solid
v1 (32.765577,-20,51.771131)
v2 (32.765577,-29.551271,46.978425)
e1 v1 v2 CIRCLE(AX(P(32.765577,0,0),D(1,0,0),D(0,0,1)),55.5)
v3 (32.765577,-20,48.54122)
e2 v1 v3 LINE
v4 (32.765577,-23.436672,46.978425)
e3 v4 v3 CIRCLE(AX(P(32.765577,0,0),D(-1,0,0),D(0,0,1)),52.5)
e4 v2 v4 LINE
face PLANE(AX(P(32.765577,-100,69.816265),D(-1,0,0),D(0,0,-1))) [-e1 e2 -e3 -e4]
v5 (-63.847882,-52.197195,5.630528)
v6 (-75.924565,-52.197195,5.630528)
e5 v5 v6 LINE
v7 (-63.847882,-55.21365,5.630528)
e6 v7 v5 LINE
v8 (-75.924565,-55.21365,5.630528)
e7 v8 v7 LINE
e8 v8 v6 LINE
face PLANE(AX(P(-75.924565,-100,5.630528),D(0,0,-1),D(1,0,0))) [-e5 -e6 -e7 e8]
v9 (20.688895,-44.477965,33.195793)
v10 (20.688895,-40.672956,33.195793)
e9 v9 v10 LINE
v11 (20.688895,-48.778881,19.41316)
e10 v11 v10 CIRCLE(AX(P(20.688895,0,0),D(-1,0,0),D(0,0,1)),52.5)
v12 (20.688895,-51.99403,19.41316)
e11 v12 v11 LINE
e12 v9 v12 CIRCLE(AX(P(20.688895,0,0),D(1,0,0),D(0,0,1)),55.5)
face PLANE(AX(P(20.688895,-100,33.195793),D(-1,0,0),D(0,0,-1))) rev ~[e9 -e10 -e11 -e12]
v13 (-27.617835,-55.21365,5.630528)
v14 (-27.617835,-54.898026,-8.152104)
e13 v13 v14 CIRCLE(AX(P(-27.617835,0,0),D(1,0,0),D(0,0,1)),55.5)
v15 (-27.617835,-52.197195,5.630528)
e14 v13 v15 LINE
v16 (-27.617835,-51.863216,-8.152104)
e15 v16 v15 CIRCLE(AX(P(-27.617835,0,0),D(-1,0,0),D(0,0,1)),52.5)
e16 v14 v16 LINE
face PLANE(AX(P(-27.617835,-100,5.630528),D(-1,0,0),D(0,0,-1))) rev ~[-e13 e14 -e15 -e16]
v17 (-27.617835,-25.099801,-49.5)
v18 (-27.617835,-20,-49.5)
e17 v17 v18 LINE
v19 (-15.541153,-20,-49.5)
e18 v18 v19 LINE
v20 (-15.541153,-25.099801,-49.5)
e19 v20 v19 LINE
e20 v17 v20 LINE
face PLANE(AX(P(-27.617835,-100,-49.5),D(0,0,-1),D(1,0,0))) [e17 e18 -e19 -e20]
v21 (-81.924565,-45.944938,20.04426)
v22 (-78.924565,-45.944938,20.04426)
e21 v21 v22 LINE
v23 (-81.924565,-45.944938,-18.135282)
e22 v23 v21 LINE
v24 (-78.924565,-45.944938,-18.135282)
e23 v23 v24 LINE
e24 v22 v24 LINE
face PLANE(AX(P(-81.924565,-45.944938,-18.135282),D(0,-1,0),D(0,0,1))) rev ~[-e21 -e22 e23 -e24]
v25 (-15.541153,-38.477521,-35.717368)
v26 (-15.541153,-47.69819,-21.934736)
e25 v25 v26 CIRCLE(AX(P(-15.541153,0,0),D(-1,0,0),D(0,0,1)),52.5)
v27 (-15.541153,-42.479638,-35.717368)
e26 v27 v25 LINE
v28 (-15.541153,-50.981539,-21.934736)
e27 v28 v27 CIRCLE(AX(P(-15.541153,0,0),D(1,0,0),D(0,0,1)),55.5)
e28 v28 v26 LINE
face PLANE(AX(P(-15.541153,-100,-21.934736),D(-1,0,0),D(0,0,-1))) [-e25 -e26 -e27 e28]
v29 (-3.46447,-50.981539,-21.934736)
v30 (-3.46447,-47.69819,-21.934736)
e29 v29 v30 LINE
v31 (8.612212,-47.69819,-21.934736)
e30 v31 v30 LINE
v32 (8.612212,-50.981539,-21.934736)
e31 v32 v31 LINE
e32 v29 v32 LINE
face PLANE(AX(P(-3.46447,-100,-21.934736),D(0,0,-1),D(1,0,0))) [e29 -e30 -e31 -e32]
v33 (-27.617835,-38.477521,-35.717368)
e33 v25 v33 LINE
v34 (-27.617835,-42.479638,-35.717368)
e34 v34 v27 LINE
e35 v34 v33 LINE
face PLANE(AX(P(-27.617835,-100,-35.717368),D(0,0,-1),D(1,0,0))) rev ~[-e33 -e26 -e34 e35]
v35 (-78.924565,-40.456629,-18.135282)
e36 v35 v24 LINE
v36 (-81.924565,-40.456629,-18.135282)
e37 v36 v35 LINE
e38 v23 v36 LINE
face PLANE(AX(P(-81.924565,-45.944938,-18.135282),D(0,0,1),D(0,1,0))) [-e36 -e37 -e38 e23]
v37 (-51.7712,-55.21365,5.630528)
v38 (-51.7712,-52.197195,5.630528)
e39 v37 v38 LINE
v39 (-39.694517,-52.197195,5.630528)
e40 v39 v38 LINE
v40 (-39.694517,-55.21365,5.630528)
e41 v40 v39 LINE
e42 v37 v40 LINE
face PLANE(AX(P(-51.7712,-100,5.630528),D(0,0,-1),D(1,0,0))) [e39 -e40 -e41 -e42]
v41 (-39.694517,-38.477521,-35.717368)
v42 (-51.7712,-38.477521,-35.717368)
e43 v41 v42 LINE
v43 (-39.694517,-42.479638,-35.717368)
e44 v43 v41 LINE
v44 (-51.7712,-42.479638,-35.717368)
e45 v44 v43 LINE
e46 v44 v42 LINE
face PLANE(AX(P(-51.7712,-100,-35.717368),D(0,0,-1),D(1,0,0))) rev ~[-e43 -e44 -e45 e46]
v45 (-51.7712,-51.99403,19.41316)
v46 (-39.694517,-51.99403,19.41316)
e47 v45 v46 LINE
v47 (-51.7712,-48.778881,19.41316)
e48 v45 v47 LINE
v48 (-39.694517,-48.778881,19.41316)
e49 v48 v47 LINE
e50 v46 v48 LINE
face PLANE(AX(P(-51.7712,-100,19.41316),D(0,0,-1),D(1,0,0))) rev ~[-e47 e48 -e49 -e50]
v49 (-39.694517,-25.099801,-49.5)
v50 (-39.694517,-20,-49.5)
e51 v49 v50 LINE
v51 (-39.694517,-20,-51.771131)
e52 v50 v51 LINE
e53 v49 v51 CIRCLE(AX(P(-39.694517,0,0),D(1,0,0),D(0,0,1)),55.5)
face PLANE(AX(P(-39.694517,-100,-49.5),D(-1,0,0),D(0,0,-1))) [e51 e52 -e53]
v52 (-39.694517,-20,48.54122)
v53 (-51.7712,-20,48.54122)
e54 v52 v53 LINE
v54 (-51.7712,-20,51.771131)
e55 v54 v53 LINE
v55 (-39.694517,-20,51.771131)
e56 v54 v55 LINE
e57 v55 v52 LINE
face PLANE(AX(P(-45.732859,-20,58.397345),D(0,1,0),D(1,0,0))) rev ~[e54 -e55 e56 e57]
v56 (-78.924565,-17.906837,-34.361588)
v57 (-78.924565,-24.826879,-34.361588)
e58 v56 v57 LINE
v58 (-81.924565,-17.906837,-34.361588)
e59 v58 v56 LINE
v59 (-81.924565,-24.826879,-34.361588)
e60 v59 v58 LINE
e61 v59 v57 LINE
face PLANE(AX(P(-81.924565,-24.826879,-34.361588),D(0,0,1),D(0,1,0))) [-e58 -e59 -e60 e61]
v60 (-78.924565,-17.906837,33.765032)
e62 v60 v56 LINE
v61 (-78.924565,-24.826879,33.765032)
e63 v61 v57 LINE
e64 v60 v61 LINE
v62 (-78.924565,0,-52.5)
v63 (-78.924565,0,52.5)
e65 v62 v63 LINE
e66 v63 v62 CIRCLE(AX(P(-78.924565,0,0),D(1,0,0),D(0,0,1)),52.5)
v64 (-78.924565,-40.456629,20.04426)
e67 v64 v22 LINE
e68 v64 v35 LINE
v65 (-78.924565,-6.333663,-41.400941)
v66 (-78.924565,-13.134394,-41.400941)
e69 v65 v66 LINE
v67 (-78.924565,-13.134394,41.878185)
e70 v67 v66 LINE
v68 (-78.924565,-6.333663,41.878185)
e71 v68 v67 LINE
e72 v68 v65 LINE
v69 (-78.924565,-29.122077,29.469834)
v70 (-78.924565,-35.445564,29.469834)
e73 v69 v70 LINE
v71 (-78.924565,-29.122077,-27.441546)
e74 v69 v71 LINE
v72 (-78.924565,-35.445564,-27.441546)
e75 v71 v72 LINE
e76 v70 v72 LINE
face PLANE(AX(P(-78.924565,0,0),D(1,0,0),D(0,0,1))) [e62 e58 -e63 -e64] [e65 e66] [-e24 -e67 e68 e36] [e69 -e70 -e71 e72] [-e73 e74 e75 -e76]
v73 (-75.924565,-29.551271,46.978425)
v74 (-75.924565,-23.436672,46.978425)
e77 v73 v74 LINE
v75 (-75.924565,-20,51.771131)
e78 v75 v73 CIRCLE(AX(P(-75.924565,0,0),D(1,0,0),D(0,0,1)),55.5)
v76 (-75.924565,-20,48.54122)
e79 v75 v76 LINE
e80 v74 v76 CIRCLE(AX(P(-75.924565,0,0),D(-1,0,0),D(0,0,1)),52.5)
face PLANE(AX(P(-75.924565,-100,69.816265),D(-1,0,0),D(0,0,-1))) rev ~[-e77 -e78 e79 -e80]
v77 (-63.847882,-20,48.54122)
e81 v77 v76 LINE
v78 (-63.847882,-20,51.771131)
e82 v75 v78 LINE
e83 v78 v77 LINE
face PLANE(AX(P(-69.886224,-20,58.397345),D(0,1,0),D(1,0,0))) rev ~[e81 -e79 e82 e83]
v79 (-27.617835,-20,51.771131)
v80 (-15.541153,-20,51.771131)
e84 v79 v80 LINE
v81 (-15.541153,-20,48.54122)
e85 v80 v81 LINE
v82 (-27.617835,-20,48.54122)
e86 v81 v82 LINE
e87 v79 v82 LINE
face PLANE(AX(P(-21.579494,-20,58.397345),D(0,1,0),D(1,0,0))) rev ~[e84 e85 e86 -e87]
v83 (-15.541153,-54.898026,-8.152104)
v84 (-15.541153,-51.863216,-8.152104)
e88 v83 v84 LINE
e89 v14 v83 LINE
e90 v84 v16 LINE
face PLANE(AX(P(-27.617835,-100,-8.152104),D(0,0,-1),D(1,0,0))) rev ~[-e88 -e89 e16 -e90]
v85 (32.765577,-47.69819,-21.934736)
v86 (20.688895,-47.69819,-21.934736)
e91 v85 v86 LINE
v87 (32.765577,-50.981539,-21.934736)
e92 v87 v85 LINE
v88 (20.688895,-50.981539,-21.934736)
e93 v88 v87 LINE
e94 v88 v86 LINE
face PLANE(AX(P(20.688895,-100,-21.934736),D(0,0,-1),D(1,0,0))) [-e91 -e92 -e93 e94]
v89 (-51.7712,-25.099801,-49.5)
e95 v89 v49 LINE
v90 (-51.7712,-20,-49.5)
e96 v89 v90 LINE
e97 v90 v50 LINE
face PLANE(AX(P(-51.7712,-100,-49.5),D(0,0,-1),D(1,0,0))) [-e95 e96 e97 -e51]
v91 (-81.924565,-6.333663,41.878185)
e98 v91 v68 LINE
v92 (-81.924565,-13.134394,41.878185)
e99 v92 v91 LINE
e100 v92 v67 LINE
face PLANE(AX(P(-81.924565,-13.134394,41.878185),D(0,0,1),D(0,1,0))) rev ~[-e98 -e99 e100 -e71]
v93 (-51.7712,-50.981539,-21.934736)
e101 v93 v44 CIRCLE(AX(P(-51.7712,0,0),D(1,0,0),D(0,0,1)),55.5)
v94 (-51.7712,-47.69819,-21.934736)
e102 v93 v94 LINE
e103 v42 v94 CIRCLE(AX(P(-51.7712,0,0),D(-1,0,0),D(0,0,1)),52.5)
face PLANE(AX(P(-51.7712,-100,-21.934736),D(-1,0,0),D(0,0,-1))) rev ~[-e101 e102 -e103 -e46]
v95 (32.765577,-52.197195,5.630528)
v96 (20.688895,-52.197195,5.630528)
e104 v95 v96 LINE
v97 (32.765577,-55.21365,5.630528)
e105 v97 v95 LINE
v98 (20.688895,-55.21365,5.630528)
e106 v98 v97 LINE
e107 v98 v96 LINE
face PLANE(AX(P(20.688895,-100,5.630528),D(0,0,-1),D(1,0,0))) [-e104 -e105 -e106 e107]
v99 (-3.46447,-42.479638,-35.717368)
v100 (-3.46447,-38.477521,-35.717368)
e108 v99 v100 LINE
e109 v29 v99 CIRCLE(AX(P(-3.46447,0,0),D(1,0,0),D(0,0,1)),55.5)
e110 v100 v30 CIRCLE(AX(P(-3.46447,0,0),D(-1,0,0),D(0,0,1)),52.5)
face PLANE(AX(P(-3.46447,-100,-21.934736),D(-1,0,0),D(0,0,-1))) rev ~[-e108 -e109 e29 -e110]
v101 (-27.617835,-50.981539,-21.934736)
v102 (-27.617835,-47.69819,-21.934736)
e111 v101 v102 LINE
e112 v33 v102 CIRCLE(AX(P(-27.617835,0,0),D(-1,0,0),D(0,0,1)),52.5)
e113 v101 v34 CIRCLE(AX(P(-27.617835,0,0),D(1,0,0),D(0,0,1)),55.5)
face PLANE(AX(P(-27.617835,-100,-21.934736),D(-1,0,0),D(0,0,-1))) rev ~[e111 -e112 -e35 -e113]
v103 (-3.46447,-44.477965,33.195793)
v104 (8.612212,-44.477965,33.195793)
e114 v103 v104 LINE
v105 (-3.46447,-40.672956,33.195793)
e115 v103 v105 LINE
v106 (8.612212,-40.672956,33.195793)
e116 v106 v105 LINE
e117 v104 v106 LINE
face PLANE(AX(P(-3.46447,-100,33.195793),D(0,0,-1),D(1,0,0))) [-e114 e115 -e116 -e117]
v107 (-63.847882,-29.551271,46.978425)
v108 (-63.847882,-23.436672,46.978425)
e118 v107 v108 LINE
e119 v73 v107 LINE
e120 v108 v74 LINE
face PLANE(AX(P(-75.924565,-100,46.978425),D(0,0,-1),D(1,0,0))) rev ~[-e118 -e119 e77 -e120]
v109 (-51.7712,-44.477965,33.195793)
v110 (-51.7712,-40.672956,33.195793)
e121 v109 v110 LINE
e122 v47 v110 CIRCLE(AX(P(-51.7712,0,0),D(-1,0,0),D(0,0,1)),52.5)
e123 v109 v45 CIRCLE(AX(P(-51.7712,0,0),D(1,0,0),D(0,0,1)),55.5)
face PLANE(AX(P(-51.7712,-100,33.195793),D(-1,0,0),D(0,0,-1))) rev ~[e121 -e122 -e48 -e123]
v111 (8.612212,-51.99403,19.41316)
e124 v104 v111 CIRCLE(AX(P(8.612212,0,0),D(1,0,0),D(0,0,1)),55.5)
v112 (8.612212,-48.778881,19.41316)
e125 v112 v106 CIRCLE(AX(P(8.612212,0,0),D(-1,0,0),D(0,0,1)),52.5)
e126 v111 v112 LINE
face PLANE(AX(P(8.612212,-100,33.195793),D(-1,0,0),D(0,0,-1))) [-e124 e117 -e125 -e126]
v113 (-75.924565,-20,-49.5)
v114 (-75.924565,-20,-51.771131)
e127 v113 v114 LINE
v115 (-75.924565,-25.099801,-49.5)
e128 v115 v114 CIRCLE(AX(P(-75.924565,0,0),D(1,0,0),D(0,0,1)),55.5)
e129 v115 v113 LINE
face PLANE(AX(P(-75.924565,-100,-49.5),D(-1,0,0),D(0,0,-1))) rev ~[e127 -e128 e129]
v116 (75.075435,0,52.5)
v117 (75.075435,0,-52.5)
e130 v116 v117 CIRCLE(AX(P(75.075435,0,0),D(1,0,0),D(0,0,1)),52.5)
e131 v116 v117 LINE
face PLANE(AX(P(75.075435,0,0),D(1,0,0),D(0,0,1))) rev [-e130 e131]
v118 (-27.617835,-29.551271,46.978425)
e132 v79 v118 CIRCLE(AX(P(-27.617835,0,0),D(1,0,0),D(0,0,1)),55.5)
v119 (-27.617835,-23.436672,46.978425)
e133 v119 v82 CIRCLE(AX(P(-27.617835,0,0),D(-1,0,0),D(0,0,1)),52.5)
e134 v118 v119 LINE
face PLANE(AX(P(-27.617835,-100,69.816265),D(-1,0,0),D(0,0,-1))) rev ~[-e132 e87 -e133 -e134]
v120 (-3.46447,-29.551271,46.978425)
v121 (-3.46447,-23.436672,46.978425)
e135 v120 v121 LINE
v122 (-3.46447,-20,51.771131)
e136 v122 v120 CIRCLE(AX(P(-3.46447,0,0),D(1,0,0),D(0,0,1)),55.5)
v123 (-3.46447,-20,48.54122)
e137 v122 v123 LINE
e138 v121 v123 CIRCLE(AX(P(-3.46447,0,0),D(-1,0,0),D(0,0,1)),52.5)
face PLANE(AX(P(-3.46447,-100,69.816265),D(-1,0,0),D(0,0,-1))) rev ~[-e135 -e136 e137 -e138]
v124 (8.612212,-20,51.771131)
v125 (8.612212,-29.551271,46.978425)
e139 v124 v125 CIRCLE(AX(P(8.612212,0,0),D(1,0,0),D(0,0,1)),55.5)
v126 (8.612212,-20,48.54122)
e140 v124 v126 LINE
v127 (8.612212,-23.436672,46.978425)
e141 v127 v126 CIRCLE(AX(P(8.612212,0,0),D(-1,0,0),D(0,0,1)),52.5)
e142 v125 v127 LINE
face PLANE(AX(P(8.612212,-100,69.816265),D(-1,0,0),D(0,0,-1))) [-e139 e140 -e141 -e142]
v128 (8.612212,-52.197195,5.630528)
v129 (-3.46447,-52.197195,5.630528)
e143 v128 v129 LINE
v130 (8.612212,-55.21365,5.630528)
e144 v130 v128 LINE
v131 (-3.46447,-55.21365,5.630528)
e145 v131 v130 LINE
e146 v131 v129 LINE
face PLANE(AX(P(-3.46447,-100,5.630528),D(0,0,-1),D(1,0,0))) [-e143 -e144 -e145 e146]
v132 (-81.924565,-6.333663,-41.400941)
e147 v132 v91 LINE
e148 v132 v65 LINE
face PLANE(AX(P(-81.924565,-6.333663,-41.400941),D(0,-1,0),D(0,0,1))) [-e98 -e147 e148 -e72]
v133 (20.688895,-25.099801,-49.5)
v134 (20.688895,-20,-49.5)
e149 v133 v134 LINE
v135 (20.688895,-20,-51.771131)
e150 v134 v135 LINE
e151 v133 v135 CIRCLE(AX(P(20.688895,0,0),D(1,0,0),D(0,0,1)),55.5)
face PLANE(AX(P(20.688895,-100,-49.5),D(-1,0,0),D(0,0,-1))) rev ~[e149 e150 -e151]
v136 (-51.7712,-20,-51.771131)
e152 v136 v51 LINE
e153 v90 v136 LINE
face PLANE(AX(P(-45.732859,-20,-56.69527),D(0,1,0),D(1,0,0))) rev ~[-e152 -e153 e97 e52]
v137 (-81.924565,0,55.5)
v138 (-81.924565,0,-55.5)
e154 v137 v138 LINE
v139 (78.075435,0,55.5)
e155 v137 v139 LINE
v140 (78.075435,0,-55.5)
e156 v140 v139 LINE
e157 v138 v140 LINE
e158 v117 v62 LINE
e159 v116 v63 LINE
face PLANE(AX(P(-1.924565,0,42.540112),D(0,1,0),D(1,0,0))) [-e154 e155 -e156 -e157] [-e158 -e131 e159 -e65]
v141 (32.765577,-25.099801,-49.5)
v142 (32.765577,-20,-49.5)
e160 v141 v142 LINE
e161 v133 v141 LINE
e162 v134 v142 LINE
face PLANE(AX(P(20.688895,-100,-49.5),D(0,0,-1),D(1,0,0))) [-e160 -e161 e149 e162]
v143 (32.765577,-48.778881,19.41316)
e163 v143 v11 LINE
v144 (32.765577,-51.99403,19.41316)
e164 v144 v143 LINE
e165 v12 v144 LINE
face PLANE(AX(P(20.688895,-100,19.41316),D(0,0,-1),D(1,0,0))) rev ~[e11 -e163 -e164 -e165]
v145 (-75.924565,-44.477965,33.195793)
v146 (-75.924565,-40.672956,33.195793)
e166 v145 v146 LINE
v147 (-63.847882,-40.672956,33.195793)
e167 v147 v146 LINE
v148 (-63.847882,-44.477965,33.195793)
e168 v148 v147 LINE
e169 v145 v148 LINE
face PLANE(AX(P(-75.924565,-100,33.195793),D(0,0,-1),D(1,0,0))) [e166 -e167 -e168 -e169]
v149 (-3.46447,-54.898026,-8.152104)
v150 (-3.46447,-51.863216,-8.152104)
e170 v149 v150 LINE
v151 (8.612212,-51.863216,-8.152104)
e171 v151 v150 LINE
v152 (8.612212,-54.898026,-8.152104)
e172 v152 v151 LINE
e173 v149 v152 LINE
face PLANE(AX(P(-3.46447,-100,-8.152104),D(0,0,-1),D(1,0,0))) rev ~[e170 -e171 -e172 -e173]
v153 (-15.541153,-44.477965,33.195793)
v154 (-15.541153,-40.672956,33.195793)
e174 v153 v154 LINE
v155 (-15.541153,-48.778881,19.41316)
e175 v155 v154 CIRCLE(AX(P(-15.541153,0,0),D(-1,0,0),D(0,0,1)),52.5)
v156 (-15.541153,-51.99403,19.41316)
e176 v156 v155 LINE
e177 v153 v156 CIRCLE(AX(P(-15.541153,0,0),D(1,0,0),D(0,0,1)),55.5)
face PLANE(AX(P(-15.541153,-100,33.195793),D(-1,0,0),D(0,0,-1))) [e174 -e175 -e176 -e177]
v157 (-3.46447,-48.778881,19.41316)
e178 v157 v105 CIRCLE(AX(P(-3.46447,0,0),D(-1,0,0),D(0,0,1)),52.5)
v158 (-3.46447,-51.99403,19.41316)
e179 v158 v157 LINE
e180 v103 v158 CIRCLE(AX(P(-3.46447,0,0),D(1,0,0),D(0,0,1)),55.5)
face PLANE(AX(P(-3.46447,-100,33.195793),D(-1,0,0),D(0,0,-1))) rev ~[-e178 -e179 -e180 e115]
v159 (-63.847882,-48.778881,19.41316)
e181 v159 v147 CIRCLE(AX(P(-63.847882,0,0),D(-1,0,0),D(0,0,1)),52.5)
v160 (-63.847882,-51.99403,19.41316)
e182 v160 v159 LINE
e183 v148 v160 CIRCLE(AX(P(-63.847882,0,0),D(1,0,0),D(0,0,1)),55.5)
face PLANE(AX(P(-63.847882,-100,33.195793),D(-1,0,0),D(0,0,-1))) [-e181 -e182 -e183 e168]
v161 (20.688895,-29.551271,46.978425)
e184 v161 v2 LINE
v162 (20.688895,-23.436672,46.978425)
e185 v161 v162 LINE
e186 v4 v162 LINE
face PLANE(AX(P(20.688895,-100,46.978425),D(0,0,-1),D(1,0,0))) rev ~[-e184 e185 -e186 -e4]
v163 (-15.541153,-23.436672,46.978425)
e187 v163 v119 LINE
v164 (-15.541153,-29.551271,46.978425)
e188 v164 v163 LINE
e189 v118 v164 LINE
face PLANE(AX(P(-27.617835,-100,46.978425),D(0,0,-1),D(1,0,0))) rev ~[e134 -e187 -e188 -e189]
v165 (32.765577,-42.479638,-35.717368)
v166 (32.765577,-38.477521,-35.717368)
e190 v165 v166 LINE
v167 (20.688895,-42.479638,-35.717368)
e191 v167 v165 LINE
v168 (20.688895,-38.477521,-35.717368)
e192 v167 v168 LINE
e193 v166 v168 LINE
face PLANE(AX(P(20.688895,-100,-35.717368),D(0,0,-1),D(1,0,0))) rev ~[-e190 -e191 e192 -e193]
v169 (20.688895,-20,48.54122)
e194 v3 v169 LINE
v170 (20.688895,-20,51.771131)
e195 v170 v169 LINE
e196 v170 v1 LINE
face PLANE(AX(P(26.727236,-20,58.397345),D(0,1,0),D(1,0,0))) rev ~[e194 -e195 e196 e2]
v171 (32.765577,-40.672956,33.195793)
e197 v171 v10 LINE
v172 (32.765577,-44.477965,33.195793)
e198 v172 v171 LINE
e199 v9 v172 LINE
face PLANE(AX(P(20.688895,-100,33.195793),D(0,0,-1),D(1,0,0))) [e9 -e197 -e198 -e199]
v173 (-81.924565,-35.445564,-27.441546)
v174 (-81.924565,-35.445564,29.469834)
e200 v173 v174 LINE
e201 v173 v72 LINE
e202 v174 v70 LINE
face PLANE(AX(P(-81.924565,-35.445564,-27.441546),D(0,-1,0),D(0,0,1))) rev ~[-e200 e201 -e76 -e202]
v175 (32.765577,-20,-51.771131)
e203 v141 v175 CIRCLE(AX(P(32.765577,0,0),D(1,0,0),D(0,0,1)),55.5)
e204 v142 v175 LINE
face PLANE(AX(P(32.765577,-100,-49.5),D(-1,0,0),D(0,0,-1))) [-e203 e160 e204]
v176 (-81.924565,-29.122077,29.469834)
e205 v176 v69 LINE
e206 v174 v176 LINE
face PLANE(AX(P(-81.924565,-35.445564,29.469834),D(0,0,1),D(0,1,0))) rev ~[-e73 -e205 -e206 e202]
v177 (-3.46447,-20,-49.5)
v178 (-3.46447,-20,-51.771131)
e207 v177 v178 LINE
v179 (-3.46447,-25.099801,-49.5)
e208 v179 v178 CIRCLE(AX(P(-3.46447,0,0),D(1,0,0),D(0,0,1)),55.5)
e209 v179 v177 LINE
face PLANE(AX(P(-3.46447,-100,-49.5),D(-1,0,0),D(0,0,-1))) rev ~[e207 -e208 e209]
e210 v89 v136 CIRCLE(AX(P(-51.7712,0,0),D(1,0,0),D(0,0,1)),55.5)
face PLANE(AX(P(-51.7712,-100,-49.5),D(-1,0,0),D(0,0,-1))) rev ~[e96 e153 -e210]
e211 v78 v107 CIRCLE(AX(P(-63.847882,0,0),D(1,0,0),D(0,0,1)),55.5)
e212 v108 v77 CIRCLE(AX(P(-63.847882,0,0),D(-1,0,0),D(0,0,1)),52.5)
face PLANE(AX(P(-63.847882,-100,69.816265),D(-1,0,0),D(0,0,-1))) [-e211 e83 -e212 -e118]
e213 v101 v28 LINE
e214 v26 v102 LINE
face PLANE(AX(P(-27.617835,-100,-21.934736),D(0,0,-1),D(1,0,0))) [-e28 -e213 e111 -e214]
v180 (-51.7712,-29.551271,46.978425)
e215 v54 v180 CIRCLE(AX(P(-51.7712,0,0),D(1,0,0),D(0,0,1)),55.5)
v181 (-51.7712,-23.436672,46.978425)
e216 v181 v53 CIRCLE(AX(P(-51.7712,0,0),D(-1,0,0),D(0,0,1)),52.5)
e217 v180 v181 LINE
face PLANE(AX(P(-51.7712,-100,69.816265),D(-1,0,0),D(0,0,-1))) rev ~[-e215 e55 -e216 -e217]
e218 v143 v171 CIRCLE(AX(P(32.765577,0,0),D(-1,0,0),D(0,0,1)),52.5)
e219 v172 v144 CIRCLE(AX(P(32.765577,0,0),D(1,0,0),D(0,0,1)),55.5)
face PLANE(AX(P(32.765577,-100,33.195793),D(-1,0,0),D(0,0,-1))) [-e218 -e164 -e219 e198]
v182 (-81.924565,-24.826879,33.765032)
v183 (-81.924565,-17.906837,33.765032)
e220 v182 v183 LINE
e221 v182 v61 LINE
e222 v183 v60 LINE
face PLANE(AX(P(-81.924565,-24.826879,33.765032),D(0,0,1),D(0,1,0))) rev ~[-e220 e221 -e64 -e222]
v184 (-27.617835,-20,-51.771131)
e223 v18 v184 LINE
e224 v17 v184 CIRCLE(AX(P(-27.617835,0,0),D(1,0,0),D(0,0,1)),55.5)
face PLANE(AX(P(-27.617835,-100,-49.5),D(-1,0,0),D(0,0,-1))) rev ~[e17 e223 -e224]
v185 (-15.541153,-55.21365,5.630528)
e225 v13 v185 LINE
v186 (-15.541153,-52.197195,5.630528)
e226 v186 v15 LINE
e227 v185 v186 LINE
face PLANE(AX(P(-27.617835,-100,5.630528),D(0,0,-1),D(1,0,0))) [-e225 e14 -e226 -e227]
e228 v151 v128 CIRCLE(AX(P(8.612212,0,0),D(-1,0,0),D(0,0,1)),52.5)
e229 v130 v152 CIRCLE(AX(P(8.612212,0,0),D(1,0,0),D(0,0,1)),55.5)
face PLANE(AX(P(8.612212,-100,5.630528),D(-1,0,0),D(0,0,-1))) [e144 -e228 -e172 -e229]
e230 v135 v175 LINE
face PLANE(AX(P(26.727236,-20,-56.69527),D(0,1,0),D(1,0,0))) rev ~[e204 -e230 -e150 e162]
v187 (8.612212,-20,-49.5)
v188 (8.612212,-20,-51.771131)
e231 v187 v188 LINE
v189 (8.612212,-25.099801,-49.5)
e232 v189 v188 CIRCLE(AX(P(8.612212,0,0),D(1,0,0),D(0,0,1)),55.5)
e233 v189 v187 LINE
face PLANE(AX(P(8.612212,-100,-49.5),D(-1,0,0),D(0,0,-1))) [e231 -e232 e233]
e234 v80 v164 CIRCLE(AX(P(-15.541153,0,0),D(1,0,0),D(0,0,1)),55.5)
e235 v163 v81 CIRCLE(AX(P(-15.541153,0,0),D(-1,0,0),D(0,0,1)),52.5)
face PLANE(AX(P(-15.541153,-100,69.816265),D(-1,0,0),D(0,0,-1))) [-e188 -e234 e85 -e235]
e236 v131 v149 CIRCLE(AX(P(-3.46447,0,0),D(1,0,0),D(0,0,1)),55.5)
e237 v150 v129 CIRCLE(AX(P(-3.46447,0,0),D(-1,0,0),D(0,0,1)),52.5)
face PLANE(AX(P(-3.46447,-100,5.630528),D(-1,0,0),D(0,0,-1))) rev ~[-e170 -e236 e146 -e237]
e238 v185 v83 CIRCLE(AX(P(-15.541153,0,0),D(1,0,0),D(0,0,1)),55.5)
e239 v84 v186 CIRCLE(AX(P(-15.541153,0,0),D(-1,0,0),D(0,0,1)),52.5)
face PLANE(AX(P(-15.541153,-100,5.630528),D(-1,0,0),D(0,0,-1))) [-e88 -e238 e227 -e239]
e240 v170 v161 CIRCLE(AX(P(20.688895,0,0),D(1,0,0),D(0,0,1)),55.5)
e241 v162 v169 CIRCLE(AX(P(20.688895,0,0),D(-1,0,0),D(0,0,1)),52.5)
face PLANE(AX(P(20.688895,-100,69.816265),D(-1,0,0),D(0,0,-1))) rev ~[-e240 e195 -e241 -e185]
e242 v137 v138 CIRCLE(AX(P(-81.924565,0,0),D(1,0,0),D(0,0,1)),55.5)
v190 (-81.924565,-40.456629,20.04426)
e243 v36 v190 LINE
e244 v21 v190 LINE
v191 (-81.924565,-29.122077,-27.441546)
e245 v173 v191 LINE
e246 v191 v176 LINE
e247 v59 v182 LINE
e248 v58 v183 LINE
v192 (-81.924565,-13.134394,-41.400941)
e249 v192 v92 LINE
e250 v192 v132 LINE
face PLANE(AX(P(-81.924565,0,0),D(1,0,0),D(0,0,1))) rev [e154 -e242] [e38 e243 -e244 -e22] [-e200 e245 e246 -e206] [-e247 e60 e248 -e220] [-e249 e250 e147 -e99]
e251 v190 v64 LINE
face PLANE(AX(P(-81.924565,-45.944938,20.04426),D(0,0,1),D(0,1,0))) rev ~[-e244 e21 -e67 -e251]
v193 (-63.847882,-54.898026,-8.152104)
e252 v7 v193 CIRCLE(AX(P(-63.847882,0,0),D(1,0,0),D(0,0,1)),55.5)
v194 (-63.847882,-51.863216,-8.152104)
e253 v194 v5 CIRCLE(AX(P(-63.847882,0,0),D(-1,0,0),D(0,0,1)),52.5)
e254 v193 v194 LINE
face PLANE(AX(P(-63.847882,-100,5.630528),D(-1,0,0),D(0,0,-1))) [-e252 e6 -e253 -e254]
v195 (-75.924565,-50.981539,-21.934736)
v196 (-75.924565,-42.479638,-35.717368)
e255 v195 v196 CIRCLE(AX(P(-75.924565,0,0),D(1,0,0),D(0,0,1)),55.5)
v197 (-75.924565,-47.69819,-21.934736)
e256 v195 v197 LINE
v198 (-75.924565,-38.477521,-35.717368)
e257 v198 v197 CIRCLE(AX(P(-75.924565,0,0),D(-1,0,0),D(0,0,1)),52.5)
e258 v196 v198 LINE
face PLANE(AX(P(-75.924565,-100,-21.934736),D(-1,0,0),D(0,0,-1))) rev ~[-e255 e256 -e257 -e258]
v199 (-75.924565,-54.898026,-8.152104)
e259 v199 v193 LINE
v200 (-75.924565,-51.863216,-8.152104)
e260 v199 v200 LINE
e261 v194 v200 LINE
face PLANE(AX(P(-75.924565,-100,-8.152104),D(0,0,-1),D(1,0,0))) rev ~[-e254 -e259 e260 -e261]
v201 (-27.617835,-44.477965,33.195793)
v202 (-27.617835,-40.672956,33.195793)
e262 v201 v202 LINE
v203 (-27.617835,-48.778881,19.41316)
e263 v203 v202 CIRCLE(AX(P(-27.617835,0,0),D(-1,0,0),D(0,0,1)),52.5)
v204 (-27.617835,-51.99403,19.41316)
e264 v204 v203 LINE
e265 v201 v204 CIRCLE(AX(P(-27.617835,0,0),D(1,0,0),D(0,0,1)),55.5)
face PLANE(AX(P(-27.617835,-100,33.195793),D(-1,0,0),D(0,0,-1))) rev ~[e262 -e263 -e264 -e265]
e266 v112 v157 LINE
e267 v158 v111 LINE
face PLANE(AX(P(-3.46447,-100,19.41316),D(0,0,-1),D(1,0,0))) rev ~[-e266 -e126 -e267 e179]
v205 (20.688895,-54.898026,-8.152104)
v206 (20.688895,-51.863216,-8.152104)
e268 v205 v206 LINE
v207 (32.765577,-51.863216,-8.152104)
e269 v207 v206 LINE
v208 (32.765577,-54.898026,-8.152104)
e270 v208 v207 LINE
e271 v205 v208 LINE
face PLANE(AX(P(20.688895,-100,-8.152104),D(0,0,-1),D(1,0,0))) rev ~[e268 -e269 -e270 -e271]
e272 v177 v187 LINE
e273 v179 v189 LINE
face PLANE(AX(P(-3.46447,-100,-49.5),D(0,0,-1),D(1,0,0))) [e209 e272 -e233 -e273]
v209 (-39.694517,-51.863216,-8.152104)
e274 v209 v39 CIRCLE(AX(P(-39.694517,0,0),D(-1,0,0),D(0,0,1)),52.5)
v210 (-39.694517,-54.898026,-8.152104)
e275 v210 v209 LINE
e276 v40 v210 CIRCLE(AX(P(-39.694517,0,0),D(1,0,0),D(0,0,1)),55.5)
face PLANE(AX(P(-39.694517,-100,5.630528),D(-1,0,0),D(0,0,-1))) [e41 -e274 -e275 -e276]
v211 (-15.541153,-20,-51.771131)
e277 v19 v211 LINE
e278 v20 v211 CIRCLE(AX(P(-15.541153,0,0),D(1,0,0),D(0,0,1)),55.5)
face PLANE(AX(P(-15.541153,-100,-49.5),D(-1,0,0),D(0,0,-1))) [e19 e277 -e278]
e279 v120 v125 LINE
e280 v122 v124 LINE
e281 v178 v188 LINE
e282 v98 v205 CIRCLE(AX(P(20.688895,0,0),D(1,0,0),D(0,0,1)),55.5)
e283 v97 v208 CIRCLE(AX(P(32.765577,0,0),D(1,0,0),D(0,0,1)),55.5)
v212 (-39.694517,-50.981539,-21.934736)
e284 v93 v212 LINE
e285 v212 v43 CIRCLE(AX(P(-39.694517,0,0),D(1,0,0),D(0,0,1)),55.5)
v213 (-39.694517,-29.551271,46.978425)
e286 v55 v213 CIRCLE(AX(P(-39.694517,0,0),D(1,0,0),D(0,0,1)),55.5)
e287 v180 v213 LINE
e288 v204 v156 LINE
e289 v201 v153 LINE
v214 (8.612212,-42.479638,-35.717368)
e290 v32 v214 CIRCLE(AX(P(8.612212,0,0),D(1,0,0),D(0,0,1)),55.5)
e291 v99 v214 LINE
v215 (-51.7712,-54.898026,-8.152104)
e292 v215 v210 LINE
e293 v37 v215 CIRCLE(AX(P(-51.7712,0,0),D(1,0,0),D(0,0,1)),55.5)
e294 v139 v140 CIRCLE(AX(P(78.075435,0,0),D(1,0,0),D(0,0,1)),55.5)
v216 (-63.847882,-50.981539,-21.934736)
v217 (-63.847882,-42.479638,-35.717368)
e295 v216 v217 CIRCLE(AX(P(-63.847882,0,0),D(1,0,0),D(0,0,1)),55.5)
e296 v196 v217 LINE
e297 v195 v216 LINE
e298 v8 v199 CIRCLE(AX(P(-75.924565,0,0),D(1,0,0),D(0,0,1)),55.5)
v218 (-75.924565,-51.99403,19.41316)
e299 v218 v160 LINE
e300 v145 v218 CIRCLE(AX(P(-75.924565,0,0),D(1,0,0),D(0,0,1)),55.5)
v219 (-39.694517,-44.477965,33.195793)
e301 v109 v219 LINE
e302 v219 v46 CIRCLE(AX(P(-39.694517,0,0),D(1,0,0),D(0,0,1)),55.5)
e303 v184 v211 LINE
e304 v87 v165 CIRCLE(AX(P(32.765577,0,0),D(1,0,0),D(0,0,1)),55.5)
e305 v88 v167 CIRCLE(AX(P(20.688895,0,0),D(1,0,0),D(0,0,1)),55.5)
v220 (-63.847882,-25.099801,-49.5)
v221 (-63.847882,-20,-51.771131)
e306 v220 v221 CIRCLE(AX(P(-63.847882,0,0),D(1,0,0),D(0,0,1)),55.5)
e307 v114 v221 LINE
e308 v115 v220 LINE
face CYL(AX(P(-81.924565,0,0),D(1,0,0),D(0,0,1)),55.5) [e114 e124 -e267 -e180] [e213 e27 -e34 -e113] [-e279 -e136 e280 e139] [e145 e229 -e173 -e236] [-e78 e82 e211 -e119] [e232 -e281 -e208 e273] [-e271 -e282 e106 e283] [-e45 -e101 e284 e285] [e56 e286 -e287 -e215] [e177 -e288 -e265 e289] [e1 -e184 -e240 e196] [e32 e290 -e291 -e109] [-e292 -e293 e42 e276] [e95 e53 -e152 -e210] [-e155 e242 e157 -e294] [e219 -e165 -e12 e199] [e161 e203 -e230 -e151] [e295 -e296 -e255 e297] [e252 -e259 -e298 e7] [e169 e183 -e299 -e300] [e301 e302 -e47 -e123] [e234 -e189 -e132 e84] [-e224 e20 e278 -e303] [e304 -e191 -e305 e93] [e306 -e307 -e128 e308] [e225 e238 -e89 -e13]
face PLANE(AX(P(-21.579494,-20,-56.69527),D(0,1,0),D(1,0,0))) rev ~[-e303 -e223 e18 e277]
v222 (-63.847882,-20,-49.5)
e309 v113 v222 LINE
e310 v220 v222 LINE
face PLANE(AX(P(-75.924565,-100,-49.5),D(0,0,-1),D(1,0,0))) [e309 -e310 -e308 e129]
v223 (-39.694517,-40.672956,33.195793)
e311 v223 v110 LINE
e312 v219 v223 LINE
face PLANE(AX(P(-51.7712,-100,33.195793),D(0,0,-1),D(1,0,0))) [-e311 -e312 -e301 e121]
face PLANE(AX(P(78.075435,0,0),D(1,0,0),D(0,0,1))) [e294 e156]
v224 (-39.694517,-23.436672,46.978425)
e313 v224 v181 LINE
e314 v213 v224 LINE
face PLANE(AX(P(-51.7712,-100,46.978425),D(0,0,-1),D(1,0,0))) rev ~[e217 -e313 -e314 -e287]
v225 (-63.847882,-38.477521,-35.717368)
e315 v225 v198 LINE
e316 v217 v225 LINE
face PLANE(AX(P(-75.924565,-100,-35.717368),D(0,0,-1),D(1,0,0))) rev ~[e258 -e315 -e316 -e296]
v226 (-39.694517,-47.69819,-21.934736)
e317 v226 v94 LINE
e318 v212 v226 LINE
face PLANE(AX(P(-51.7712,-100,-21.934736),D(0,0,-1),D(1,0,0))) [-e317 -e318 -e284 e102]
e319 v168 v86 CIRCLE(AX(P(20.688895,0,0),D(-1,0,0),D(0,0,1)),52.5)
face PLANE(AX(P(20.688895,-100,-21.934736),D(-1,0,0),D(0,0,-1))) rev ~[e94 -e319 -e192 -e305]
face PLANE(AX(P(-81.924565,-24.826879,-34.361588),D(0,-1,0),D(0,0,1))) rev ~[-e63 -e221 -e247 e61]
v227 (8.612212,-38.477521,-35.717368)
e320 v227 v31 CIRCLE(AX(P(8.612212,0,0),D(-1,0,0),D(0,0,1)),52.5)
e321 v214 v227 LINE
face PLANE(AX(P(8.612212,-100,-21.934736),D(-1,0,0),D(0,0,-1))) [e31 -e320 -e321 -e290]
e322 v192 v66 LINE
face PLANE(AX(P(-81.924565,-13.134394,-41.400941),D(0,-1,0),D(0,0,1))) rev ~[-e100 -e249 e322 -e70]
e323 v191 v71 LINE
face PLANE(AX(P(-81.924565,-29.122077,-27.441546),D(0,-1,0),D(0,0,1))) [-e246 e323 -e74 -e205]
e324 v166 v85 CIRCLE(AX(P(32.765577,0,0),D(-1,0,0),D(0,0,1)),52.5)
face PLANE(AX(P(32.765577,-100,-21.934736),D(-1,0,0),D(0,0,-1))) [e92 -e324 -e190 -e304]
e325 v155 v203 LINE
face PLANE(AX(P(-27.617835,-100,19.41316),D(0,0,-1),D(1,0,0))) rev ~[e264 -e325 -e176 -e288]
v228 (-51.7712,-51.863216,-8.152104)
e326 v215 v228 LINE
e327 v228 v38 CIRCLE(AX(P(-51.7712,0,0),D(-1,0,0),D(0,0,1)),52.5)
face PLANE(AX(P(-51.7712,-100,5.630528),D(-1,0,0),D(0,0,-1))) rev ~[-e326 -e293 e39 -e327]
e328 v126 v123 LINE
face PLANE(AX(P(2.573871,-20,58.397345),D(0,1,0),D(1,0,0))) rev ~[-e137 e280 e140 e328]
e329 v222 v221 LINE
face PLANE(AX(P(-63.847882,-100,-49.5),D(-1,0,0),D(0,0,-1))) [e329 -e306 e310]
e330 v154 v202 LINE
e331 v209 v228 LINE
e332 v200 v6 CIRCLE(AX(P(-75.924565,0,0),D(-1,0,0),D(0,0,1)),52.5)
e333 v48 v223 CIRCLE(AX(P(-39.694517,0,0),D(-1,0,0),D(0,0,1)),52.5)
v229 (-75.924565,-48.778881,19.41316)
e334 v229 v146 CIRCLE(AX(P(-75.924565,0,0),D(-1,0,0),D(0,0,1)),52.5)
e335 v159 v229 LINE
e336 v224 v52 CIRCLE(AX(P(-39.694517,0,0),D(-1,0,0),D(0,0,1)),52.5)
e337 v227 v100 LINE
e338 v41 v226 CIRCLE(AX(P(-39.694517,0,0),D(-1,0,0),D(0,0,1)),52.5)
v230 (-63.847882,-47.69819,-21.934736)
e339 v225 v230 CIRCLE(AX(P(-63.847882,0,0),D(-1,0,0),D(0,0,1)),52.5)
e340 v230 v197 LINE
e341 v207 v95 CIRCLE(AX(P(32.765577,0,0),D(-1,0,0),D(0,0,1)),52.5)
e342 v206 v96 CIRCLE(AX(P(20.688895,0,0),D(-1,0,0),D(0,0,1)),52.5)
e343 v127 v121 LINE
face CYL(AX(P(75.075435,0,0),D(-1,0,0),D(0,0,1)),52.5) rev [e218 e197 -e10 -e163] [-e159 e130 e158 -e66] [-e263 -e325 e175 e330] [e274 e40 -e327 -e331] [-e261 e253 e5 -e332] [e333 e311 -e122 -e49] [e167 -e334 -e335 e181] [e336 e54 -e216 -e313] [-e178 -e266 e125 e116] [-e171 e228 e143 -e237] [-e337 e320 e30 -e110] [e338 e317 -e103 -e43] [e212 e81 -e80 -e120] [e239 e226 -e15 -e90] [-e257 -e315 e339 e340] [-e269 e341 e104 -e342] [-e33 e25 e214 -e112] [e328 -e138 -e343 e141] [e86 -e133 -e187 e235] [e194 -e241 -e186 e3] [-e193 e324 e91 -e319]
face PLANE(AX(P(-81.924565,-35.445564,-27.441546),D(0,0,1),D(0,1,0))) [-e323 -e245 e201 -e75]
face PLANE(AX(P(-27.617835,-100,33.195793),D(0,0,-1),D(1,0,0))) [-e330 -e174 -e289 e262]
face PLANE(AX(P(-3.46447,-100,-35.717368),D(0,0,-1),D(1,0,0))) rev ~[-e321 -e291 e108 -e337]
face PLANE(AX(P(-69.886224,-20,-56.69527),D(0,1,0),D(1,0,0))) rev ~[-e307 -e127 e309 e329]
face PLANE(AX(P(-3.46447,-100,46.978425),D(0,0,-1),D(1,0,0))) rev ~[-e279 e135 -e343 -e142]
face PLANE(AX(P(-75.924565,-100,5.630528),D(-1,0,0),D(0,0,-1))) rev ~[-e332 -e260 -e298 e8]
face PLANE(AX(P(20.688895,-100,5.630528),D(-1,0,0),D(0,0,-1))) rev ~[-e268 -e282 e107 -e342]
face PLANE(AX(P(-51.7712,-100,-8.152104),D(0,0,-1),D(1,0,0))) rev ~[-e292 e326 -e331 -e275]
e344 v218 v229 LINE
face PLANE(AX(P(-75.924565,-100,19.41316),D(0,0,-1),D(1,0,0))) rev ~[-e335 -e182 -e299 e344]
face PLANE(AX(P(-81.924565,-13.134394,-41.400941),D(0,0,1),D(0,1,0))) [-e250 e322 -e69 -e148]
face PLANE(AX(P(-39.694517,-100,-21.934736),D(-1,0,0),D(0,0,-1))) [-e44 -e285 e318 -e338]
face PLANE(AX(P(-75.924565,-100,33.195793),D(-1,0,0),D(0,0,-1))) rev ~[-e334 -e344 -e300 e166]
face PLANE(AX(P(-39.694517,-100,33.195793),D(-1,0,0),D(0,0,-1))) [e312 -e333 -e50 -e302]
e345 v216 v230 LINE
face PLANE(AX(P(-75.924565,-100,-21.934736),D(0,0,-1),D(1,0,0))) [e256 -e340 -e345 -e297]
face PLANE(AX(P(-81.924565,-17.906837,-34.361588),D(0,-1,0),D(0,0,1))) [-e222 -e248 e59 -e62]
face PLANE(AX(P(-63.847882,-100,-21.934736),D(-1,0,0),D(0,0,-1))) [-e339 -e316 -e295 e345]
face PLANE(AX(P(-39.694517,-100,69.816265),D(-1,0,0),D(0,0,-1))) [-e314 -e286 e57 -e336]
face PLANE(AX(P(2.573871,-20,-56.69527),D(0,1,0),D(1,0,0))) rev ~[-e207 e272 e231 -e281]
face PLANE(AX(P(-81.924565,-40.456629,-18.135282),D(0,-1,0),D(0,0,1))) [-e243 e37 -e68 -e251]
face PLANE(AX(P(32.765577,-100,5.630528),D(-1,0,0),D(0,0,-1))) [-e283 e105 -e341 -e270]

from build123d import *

# Parameters (mm, degrees)
REVOLVE_1_ANGLE     = 180
CUT_EXTRUDE_START   = -100
SKETCH_6_W          = 12.076682438
SKETCH_6_H          = 14.39053984
SKETCH_6_H_2        = 13.782632099
SKETCH_6_H_3        = 13.782632098
SKETCH_6_H_4        = 22.837839873
CUT_EXTRUDE_3_DEPTH = 80
SKETCH_7_W          = 83.279125937
SKETCH_7_H          = 6.800730915
SKETCH_7_W_2        = 68.126620215
SKETCH_7_H_2        = 6.920041983
SKETCH_7_W_3        = 56.91137976
SKETCH_7_H_3        = 6.32348664
SKETCH_7_W_4        = 38.179541977
SKETCH_7_H_4        = 5.488309159
CUT_EXTRUDE_4_DEPTH = 80


with BuildPart() as part:
    # 草图1 → 旋转1 (revolve)
    with BuildSketch(Plane(origin=(0, 0, 0), x_dir=(1, 0, 0), z_dir=(0, 1, 0))):
        Polygon((-78.924564797, 0), (-81.924564797, 0), (-81.924564797, -55.5), (78.075435203, -55.5), (78.075435203, 0), (75.075435203, 0), (75.075435203, -52.5), (-78.924564797, -52.5), align=None)
    revolve(axis=Axis((-95.756286267, 0, 0), (1, 0, 0)), revolution_arc=REVOLVE_1_ANGLE)

    # 草图6 → 切除-拉伸3 (cut)
    with BuildSketch(Plane(origin=(0, 0, 0), x_dir=(1, 0, 0), z_dir=(0, 1, 0)).offset(CUT_EXTRUDE_START)):
        with Locations((-69.886223578, 56.69526992)):
            Rectangle(SKETCH_6_W, SKETCH_6_H)
        with Locations((-69.886223578, 28.826051853)):
            Rectangle(SKETCH_6_W, SKETCH_6_H_2)
        with Locations((-69.886223578, 1.260787656)):
            Rectangle(SKETCH_6_W, SKETCH_6_H_3)
        with Locations((-69.886223578, -26.304476541)):
            Rectangle(SKETCH_6_W, SKETCH_6_H_2)
        with Locations((-69.886223578, -58.397344625)):
            Rectangle(SKETCH_6_W, SKETCH_6_H_4)
        with Locations((-45.732858702, 56.69526992)):
            Rectangle(SKETCH_6_W, SKETCH_6_H)
        with Locations((-21.579493826, 56.69526992)):
            Rectangle(SKETCH_6_W, SKETCH_6_H)
        with Locations((2.57387105, 56.69526992)):
            Rectangle(SKETCH_6_W, SKETCH_6_H)
        with Locations((26.727235926, 56.69526992)):
            Rectangle(SKETCH_6_W, SKETCH_6_H)
        with Locations((-45.732858702, -58.397344625)):
            Rectangle(SKETCH_6_W, SKETCH_6_H_4)
        with Locations((-21.579493826, -58.397344625)):
            Rectangle(SKETCH_6_W, SKETCH_6_H_4)
        with Locations((2.57387105, -58.397344625)):
            Rectangle(SKETCH_6_W, SKETCH_6_H_4)
        with Locations((26.727235926, -58.397344625)):
            Rectangle(SKETCH_6_W, SKETCH_6_H_4)
        with Locations((-45.732858702, 28.826051853)):
            Rectangle(SKETCH_6_W, SKETCH_6_H_2)
        with Locations((-21.579493826, 28.826051853)):
            Rectangle(SKETCH_6_W, SKETCH_6_H_2)
        with Locations((2.57387105, 28.826051853)):
            Rectangle(SKETCH_6_W, SKETCH_6_H_2)
        with Locations((26.727235926, 28.826051853)):
            Rectangle(SKETCH_6_W, SKETCH_6_H_2)
        with Locations((-45.732858702, 1.260787656)):
            Rectangle(SKETCH_6_W, SKETCH_6_H_3)
        with Locations((-21.579493826, 1.260787656)):
            Rectangle(SKETCH_6_W, SKETCH_6_H_3)
        with Locations((2.57387105, 1.260787656)):
            Rectangle(SKETCH_6_W, SKETCH_6_H_3)
        with Locations((26.727235926, 1.260787656)):
            Rectangle(SKETCH_6_W, SKETCH_6_H_3)
        with Locations((26.727235926, -26.304476541)):
            Rectangle(SKETCH_6_W, SKETCH_6_H_2)
        with Locations((2.57387105, -26.304476541)):
            Rectangle(SKETCH_6_W, SKETCH_6_H_2)
        with Locations((-21.579493826, -26.304476541)):
            Rectangle(SKETCH_6_W, SKETCH_6_H_2)
        with Locations((-45.732858702, -26.304476541)):
            Rectangle(SKETCH_6_W, SKETCH_6_H_2)
    extrude(amount=CUT_EXTRUDE_3_DEPTH, mode=Mode.SUBTRACT)

    # 草图7 → 切除-拉伸4 (cut)
    with BuildSketch(Plane.ZY.offset(81.924564797)):
        with Locations((0.238622138, -9.73402863)):
            Rectangle(SKETCH_7_W, SKETCH_7_H)
        with Locations((-0.298277671, -21.366857825)):
            Rectangle(SKETCH_7_W_2, SKETCH_7_H_2)
        with Locations((1.014144084, -32.28382061)):
            Rectangle(SKETCH_7_W_3, SKETCH_7_H_3)
        with Locations((0.95448855, -43.200783394)):
            Rectangle(SKETCH_7_W_4, SKETCH_7_H_4)
    extrude(amount=-CUT_EXTRUDE_4_DEPTH, mode=Mode.SUBTRACT)


solid = part.part
